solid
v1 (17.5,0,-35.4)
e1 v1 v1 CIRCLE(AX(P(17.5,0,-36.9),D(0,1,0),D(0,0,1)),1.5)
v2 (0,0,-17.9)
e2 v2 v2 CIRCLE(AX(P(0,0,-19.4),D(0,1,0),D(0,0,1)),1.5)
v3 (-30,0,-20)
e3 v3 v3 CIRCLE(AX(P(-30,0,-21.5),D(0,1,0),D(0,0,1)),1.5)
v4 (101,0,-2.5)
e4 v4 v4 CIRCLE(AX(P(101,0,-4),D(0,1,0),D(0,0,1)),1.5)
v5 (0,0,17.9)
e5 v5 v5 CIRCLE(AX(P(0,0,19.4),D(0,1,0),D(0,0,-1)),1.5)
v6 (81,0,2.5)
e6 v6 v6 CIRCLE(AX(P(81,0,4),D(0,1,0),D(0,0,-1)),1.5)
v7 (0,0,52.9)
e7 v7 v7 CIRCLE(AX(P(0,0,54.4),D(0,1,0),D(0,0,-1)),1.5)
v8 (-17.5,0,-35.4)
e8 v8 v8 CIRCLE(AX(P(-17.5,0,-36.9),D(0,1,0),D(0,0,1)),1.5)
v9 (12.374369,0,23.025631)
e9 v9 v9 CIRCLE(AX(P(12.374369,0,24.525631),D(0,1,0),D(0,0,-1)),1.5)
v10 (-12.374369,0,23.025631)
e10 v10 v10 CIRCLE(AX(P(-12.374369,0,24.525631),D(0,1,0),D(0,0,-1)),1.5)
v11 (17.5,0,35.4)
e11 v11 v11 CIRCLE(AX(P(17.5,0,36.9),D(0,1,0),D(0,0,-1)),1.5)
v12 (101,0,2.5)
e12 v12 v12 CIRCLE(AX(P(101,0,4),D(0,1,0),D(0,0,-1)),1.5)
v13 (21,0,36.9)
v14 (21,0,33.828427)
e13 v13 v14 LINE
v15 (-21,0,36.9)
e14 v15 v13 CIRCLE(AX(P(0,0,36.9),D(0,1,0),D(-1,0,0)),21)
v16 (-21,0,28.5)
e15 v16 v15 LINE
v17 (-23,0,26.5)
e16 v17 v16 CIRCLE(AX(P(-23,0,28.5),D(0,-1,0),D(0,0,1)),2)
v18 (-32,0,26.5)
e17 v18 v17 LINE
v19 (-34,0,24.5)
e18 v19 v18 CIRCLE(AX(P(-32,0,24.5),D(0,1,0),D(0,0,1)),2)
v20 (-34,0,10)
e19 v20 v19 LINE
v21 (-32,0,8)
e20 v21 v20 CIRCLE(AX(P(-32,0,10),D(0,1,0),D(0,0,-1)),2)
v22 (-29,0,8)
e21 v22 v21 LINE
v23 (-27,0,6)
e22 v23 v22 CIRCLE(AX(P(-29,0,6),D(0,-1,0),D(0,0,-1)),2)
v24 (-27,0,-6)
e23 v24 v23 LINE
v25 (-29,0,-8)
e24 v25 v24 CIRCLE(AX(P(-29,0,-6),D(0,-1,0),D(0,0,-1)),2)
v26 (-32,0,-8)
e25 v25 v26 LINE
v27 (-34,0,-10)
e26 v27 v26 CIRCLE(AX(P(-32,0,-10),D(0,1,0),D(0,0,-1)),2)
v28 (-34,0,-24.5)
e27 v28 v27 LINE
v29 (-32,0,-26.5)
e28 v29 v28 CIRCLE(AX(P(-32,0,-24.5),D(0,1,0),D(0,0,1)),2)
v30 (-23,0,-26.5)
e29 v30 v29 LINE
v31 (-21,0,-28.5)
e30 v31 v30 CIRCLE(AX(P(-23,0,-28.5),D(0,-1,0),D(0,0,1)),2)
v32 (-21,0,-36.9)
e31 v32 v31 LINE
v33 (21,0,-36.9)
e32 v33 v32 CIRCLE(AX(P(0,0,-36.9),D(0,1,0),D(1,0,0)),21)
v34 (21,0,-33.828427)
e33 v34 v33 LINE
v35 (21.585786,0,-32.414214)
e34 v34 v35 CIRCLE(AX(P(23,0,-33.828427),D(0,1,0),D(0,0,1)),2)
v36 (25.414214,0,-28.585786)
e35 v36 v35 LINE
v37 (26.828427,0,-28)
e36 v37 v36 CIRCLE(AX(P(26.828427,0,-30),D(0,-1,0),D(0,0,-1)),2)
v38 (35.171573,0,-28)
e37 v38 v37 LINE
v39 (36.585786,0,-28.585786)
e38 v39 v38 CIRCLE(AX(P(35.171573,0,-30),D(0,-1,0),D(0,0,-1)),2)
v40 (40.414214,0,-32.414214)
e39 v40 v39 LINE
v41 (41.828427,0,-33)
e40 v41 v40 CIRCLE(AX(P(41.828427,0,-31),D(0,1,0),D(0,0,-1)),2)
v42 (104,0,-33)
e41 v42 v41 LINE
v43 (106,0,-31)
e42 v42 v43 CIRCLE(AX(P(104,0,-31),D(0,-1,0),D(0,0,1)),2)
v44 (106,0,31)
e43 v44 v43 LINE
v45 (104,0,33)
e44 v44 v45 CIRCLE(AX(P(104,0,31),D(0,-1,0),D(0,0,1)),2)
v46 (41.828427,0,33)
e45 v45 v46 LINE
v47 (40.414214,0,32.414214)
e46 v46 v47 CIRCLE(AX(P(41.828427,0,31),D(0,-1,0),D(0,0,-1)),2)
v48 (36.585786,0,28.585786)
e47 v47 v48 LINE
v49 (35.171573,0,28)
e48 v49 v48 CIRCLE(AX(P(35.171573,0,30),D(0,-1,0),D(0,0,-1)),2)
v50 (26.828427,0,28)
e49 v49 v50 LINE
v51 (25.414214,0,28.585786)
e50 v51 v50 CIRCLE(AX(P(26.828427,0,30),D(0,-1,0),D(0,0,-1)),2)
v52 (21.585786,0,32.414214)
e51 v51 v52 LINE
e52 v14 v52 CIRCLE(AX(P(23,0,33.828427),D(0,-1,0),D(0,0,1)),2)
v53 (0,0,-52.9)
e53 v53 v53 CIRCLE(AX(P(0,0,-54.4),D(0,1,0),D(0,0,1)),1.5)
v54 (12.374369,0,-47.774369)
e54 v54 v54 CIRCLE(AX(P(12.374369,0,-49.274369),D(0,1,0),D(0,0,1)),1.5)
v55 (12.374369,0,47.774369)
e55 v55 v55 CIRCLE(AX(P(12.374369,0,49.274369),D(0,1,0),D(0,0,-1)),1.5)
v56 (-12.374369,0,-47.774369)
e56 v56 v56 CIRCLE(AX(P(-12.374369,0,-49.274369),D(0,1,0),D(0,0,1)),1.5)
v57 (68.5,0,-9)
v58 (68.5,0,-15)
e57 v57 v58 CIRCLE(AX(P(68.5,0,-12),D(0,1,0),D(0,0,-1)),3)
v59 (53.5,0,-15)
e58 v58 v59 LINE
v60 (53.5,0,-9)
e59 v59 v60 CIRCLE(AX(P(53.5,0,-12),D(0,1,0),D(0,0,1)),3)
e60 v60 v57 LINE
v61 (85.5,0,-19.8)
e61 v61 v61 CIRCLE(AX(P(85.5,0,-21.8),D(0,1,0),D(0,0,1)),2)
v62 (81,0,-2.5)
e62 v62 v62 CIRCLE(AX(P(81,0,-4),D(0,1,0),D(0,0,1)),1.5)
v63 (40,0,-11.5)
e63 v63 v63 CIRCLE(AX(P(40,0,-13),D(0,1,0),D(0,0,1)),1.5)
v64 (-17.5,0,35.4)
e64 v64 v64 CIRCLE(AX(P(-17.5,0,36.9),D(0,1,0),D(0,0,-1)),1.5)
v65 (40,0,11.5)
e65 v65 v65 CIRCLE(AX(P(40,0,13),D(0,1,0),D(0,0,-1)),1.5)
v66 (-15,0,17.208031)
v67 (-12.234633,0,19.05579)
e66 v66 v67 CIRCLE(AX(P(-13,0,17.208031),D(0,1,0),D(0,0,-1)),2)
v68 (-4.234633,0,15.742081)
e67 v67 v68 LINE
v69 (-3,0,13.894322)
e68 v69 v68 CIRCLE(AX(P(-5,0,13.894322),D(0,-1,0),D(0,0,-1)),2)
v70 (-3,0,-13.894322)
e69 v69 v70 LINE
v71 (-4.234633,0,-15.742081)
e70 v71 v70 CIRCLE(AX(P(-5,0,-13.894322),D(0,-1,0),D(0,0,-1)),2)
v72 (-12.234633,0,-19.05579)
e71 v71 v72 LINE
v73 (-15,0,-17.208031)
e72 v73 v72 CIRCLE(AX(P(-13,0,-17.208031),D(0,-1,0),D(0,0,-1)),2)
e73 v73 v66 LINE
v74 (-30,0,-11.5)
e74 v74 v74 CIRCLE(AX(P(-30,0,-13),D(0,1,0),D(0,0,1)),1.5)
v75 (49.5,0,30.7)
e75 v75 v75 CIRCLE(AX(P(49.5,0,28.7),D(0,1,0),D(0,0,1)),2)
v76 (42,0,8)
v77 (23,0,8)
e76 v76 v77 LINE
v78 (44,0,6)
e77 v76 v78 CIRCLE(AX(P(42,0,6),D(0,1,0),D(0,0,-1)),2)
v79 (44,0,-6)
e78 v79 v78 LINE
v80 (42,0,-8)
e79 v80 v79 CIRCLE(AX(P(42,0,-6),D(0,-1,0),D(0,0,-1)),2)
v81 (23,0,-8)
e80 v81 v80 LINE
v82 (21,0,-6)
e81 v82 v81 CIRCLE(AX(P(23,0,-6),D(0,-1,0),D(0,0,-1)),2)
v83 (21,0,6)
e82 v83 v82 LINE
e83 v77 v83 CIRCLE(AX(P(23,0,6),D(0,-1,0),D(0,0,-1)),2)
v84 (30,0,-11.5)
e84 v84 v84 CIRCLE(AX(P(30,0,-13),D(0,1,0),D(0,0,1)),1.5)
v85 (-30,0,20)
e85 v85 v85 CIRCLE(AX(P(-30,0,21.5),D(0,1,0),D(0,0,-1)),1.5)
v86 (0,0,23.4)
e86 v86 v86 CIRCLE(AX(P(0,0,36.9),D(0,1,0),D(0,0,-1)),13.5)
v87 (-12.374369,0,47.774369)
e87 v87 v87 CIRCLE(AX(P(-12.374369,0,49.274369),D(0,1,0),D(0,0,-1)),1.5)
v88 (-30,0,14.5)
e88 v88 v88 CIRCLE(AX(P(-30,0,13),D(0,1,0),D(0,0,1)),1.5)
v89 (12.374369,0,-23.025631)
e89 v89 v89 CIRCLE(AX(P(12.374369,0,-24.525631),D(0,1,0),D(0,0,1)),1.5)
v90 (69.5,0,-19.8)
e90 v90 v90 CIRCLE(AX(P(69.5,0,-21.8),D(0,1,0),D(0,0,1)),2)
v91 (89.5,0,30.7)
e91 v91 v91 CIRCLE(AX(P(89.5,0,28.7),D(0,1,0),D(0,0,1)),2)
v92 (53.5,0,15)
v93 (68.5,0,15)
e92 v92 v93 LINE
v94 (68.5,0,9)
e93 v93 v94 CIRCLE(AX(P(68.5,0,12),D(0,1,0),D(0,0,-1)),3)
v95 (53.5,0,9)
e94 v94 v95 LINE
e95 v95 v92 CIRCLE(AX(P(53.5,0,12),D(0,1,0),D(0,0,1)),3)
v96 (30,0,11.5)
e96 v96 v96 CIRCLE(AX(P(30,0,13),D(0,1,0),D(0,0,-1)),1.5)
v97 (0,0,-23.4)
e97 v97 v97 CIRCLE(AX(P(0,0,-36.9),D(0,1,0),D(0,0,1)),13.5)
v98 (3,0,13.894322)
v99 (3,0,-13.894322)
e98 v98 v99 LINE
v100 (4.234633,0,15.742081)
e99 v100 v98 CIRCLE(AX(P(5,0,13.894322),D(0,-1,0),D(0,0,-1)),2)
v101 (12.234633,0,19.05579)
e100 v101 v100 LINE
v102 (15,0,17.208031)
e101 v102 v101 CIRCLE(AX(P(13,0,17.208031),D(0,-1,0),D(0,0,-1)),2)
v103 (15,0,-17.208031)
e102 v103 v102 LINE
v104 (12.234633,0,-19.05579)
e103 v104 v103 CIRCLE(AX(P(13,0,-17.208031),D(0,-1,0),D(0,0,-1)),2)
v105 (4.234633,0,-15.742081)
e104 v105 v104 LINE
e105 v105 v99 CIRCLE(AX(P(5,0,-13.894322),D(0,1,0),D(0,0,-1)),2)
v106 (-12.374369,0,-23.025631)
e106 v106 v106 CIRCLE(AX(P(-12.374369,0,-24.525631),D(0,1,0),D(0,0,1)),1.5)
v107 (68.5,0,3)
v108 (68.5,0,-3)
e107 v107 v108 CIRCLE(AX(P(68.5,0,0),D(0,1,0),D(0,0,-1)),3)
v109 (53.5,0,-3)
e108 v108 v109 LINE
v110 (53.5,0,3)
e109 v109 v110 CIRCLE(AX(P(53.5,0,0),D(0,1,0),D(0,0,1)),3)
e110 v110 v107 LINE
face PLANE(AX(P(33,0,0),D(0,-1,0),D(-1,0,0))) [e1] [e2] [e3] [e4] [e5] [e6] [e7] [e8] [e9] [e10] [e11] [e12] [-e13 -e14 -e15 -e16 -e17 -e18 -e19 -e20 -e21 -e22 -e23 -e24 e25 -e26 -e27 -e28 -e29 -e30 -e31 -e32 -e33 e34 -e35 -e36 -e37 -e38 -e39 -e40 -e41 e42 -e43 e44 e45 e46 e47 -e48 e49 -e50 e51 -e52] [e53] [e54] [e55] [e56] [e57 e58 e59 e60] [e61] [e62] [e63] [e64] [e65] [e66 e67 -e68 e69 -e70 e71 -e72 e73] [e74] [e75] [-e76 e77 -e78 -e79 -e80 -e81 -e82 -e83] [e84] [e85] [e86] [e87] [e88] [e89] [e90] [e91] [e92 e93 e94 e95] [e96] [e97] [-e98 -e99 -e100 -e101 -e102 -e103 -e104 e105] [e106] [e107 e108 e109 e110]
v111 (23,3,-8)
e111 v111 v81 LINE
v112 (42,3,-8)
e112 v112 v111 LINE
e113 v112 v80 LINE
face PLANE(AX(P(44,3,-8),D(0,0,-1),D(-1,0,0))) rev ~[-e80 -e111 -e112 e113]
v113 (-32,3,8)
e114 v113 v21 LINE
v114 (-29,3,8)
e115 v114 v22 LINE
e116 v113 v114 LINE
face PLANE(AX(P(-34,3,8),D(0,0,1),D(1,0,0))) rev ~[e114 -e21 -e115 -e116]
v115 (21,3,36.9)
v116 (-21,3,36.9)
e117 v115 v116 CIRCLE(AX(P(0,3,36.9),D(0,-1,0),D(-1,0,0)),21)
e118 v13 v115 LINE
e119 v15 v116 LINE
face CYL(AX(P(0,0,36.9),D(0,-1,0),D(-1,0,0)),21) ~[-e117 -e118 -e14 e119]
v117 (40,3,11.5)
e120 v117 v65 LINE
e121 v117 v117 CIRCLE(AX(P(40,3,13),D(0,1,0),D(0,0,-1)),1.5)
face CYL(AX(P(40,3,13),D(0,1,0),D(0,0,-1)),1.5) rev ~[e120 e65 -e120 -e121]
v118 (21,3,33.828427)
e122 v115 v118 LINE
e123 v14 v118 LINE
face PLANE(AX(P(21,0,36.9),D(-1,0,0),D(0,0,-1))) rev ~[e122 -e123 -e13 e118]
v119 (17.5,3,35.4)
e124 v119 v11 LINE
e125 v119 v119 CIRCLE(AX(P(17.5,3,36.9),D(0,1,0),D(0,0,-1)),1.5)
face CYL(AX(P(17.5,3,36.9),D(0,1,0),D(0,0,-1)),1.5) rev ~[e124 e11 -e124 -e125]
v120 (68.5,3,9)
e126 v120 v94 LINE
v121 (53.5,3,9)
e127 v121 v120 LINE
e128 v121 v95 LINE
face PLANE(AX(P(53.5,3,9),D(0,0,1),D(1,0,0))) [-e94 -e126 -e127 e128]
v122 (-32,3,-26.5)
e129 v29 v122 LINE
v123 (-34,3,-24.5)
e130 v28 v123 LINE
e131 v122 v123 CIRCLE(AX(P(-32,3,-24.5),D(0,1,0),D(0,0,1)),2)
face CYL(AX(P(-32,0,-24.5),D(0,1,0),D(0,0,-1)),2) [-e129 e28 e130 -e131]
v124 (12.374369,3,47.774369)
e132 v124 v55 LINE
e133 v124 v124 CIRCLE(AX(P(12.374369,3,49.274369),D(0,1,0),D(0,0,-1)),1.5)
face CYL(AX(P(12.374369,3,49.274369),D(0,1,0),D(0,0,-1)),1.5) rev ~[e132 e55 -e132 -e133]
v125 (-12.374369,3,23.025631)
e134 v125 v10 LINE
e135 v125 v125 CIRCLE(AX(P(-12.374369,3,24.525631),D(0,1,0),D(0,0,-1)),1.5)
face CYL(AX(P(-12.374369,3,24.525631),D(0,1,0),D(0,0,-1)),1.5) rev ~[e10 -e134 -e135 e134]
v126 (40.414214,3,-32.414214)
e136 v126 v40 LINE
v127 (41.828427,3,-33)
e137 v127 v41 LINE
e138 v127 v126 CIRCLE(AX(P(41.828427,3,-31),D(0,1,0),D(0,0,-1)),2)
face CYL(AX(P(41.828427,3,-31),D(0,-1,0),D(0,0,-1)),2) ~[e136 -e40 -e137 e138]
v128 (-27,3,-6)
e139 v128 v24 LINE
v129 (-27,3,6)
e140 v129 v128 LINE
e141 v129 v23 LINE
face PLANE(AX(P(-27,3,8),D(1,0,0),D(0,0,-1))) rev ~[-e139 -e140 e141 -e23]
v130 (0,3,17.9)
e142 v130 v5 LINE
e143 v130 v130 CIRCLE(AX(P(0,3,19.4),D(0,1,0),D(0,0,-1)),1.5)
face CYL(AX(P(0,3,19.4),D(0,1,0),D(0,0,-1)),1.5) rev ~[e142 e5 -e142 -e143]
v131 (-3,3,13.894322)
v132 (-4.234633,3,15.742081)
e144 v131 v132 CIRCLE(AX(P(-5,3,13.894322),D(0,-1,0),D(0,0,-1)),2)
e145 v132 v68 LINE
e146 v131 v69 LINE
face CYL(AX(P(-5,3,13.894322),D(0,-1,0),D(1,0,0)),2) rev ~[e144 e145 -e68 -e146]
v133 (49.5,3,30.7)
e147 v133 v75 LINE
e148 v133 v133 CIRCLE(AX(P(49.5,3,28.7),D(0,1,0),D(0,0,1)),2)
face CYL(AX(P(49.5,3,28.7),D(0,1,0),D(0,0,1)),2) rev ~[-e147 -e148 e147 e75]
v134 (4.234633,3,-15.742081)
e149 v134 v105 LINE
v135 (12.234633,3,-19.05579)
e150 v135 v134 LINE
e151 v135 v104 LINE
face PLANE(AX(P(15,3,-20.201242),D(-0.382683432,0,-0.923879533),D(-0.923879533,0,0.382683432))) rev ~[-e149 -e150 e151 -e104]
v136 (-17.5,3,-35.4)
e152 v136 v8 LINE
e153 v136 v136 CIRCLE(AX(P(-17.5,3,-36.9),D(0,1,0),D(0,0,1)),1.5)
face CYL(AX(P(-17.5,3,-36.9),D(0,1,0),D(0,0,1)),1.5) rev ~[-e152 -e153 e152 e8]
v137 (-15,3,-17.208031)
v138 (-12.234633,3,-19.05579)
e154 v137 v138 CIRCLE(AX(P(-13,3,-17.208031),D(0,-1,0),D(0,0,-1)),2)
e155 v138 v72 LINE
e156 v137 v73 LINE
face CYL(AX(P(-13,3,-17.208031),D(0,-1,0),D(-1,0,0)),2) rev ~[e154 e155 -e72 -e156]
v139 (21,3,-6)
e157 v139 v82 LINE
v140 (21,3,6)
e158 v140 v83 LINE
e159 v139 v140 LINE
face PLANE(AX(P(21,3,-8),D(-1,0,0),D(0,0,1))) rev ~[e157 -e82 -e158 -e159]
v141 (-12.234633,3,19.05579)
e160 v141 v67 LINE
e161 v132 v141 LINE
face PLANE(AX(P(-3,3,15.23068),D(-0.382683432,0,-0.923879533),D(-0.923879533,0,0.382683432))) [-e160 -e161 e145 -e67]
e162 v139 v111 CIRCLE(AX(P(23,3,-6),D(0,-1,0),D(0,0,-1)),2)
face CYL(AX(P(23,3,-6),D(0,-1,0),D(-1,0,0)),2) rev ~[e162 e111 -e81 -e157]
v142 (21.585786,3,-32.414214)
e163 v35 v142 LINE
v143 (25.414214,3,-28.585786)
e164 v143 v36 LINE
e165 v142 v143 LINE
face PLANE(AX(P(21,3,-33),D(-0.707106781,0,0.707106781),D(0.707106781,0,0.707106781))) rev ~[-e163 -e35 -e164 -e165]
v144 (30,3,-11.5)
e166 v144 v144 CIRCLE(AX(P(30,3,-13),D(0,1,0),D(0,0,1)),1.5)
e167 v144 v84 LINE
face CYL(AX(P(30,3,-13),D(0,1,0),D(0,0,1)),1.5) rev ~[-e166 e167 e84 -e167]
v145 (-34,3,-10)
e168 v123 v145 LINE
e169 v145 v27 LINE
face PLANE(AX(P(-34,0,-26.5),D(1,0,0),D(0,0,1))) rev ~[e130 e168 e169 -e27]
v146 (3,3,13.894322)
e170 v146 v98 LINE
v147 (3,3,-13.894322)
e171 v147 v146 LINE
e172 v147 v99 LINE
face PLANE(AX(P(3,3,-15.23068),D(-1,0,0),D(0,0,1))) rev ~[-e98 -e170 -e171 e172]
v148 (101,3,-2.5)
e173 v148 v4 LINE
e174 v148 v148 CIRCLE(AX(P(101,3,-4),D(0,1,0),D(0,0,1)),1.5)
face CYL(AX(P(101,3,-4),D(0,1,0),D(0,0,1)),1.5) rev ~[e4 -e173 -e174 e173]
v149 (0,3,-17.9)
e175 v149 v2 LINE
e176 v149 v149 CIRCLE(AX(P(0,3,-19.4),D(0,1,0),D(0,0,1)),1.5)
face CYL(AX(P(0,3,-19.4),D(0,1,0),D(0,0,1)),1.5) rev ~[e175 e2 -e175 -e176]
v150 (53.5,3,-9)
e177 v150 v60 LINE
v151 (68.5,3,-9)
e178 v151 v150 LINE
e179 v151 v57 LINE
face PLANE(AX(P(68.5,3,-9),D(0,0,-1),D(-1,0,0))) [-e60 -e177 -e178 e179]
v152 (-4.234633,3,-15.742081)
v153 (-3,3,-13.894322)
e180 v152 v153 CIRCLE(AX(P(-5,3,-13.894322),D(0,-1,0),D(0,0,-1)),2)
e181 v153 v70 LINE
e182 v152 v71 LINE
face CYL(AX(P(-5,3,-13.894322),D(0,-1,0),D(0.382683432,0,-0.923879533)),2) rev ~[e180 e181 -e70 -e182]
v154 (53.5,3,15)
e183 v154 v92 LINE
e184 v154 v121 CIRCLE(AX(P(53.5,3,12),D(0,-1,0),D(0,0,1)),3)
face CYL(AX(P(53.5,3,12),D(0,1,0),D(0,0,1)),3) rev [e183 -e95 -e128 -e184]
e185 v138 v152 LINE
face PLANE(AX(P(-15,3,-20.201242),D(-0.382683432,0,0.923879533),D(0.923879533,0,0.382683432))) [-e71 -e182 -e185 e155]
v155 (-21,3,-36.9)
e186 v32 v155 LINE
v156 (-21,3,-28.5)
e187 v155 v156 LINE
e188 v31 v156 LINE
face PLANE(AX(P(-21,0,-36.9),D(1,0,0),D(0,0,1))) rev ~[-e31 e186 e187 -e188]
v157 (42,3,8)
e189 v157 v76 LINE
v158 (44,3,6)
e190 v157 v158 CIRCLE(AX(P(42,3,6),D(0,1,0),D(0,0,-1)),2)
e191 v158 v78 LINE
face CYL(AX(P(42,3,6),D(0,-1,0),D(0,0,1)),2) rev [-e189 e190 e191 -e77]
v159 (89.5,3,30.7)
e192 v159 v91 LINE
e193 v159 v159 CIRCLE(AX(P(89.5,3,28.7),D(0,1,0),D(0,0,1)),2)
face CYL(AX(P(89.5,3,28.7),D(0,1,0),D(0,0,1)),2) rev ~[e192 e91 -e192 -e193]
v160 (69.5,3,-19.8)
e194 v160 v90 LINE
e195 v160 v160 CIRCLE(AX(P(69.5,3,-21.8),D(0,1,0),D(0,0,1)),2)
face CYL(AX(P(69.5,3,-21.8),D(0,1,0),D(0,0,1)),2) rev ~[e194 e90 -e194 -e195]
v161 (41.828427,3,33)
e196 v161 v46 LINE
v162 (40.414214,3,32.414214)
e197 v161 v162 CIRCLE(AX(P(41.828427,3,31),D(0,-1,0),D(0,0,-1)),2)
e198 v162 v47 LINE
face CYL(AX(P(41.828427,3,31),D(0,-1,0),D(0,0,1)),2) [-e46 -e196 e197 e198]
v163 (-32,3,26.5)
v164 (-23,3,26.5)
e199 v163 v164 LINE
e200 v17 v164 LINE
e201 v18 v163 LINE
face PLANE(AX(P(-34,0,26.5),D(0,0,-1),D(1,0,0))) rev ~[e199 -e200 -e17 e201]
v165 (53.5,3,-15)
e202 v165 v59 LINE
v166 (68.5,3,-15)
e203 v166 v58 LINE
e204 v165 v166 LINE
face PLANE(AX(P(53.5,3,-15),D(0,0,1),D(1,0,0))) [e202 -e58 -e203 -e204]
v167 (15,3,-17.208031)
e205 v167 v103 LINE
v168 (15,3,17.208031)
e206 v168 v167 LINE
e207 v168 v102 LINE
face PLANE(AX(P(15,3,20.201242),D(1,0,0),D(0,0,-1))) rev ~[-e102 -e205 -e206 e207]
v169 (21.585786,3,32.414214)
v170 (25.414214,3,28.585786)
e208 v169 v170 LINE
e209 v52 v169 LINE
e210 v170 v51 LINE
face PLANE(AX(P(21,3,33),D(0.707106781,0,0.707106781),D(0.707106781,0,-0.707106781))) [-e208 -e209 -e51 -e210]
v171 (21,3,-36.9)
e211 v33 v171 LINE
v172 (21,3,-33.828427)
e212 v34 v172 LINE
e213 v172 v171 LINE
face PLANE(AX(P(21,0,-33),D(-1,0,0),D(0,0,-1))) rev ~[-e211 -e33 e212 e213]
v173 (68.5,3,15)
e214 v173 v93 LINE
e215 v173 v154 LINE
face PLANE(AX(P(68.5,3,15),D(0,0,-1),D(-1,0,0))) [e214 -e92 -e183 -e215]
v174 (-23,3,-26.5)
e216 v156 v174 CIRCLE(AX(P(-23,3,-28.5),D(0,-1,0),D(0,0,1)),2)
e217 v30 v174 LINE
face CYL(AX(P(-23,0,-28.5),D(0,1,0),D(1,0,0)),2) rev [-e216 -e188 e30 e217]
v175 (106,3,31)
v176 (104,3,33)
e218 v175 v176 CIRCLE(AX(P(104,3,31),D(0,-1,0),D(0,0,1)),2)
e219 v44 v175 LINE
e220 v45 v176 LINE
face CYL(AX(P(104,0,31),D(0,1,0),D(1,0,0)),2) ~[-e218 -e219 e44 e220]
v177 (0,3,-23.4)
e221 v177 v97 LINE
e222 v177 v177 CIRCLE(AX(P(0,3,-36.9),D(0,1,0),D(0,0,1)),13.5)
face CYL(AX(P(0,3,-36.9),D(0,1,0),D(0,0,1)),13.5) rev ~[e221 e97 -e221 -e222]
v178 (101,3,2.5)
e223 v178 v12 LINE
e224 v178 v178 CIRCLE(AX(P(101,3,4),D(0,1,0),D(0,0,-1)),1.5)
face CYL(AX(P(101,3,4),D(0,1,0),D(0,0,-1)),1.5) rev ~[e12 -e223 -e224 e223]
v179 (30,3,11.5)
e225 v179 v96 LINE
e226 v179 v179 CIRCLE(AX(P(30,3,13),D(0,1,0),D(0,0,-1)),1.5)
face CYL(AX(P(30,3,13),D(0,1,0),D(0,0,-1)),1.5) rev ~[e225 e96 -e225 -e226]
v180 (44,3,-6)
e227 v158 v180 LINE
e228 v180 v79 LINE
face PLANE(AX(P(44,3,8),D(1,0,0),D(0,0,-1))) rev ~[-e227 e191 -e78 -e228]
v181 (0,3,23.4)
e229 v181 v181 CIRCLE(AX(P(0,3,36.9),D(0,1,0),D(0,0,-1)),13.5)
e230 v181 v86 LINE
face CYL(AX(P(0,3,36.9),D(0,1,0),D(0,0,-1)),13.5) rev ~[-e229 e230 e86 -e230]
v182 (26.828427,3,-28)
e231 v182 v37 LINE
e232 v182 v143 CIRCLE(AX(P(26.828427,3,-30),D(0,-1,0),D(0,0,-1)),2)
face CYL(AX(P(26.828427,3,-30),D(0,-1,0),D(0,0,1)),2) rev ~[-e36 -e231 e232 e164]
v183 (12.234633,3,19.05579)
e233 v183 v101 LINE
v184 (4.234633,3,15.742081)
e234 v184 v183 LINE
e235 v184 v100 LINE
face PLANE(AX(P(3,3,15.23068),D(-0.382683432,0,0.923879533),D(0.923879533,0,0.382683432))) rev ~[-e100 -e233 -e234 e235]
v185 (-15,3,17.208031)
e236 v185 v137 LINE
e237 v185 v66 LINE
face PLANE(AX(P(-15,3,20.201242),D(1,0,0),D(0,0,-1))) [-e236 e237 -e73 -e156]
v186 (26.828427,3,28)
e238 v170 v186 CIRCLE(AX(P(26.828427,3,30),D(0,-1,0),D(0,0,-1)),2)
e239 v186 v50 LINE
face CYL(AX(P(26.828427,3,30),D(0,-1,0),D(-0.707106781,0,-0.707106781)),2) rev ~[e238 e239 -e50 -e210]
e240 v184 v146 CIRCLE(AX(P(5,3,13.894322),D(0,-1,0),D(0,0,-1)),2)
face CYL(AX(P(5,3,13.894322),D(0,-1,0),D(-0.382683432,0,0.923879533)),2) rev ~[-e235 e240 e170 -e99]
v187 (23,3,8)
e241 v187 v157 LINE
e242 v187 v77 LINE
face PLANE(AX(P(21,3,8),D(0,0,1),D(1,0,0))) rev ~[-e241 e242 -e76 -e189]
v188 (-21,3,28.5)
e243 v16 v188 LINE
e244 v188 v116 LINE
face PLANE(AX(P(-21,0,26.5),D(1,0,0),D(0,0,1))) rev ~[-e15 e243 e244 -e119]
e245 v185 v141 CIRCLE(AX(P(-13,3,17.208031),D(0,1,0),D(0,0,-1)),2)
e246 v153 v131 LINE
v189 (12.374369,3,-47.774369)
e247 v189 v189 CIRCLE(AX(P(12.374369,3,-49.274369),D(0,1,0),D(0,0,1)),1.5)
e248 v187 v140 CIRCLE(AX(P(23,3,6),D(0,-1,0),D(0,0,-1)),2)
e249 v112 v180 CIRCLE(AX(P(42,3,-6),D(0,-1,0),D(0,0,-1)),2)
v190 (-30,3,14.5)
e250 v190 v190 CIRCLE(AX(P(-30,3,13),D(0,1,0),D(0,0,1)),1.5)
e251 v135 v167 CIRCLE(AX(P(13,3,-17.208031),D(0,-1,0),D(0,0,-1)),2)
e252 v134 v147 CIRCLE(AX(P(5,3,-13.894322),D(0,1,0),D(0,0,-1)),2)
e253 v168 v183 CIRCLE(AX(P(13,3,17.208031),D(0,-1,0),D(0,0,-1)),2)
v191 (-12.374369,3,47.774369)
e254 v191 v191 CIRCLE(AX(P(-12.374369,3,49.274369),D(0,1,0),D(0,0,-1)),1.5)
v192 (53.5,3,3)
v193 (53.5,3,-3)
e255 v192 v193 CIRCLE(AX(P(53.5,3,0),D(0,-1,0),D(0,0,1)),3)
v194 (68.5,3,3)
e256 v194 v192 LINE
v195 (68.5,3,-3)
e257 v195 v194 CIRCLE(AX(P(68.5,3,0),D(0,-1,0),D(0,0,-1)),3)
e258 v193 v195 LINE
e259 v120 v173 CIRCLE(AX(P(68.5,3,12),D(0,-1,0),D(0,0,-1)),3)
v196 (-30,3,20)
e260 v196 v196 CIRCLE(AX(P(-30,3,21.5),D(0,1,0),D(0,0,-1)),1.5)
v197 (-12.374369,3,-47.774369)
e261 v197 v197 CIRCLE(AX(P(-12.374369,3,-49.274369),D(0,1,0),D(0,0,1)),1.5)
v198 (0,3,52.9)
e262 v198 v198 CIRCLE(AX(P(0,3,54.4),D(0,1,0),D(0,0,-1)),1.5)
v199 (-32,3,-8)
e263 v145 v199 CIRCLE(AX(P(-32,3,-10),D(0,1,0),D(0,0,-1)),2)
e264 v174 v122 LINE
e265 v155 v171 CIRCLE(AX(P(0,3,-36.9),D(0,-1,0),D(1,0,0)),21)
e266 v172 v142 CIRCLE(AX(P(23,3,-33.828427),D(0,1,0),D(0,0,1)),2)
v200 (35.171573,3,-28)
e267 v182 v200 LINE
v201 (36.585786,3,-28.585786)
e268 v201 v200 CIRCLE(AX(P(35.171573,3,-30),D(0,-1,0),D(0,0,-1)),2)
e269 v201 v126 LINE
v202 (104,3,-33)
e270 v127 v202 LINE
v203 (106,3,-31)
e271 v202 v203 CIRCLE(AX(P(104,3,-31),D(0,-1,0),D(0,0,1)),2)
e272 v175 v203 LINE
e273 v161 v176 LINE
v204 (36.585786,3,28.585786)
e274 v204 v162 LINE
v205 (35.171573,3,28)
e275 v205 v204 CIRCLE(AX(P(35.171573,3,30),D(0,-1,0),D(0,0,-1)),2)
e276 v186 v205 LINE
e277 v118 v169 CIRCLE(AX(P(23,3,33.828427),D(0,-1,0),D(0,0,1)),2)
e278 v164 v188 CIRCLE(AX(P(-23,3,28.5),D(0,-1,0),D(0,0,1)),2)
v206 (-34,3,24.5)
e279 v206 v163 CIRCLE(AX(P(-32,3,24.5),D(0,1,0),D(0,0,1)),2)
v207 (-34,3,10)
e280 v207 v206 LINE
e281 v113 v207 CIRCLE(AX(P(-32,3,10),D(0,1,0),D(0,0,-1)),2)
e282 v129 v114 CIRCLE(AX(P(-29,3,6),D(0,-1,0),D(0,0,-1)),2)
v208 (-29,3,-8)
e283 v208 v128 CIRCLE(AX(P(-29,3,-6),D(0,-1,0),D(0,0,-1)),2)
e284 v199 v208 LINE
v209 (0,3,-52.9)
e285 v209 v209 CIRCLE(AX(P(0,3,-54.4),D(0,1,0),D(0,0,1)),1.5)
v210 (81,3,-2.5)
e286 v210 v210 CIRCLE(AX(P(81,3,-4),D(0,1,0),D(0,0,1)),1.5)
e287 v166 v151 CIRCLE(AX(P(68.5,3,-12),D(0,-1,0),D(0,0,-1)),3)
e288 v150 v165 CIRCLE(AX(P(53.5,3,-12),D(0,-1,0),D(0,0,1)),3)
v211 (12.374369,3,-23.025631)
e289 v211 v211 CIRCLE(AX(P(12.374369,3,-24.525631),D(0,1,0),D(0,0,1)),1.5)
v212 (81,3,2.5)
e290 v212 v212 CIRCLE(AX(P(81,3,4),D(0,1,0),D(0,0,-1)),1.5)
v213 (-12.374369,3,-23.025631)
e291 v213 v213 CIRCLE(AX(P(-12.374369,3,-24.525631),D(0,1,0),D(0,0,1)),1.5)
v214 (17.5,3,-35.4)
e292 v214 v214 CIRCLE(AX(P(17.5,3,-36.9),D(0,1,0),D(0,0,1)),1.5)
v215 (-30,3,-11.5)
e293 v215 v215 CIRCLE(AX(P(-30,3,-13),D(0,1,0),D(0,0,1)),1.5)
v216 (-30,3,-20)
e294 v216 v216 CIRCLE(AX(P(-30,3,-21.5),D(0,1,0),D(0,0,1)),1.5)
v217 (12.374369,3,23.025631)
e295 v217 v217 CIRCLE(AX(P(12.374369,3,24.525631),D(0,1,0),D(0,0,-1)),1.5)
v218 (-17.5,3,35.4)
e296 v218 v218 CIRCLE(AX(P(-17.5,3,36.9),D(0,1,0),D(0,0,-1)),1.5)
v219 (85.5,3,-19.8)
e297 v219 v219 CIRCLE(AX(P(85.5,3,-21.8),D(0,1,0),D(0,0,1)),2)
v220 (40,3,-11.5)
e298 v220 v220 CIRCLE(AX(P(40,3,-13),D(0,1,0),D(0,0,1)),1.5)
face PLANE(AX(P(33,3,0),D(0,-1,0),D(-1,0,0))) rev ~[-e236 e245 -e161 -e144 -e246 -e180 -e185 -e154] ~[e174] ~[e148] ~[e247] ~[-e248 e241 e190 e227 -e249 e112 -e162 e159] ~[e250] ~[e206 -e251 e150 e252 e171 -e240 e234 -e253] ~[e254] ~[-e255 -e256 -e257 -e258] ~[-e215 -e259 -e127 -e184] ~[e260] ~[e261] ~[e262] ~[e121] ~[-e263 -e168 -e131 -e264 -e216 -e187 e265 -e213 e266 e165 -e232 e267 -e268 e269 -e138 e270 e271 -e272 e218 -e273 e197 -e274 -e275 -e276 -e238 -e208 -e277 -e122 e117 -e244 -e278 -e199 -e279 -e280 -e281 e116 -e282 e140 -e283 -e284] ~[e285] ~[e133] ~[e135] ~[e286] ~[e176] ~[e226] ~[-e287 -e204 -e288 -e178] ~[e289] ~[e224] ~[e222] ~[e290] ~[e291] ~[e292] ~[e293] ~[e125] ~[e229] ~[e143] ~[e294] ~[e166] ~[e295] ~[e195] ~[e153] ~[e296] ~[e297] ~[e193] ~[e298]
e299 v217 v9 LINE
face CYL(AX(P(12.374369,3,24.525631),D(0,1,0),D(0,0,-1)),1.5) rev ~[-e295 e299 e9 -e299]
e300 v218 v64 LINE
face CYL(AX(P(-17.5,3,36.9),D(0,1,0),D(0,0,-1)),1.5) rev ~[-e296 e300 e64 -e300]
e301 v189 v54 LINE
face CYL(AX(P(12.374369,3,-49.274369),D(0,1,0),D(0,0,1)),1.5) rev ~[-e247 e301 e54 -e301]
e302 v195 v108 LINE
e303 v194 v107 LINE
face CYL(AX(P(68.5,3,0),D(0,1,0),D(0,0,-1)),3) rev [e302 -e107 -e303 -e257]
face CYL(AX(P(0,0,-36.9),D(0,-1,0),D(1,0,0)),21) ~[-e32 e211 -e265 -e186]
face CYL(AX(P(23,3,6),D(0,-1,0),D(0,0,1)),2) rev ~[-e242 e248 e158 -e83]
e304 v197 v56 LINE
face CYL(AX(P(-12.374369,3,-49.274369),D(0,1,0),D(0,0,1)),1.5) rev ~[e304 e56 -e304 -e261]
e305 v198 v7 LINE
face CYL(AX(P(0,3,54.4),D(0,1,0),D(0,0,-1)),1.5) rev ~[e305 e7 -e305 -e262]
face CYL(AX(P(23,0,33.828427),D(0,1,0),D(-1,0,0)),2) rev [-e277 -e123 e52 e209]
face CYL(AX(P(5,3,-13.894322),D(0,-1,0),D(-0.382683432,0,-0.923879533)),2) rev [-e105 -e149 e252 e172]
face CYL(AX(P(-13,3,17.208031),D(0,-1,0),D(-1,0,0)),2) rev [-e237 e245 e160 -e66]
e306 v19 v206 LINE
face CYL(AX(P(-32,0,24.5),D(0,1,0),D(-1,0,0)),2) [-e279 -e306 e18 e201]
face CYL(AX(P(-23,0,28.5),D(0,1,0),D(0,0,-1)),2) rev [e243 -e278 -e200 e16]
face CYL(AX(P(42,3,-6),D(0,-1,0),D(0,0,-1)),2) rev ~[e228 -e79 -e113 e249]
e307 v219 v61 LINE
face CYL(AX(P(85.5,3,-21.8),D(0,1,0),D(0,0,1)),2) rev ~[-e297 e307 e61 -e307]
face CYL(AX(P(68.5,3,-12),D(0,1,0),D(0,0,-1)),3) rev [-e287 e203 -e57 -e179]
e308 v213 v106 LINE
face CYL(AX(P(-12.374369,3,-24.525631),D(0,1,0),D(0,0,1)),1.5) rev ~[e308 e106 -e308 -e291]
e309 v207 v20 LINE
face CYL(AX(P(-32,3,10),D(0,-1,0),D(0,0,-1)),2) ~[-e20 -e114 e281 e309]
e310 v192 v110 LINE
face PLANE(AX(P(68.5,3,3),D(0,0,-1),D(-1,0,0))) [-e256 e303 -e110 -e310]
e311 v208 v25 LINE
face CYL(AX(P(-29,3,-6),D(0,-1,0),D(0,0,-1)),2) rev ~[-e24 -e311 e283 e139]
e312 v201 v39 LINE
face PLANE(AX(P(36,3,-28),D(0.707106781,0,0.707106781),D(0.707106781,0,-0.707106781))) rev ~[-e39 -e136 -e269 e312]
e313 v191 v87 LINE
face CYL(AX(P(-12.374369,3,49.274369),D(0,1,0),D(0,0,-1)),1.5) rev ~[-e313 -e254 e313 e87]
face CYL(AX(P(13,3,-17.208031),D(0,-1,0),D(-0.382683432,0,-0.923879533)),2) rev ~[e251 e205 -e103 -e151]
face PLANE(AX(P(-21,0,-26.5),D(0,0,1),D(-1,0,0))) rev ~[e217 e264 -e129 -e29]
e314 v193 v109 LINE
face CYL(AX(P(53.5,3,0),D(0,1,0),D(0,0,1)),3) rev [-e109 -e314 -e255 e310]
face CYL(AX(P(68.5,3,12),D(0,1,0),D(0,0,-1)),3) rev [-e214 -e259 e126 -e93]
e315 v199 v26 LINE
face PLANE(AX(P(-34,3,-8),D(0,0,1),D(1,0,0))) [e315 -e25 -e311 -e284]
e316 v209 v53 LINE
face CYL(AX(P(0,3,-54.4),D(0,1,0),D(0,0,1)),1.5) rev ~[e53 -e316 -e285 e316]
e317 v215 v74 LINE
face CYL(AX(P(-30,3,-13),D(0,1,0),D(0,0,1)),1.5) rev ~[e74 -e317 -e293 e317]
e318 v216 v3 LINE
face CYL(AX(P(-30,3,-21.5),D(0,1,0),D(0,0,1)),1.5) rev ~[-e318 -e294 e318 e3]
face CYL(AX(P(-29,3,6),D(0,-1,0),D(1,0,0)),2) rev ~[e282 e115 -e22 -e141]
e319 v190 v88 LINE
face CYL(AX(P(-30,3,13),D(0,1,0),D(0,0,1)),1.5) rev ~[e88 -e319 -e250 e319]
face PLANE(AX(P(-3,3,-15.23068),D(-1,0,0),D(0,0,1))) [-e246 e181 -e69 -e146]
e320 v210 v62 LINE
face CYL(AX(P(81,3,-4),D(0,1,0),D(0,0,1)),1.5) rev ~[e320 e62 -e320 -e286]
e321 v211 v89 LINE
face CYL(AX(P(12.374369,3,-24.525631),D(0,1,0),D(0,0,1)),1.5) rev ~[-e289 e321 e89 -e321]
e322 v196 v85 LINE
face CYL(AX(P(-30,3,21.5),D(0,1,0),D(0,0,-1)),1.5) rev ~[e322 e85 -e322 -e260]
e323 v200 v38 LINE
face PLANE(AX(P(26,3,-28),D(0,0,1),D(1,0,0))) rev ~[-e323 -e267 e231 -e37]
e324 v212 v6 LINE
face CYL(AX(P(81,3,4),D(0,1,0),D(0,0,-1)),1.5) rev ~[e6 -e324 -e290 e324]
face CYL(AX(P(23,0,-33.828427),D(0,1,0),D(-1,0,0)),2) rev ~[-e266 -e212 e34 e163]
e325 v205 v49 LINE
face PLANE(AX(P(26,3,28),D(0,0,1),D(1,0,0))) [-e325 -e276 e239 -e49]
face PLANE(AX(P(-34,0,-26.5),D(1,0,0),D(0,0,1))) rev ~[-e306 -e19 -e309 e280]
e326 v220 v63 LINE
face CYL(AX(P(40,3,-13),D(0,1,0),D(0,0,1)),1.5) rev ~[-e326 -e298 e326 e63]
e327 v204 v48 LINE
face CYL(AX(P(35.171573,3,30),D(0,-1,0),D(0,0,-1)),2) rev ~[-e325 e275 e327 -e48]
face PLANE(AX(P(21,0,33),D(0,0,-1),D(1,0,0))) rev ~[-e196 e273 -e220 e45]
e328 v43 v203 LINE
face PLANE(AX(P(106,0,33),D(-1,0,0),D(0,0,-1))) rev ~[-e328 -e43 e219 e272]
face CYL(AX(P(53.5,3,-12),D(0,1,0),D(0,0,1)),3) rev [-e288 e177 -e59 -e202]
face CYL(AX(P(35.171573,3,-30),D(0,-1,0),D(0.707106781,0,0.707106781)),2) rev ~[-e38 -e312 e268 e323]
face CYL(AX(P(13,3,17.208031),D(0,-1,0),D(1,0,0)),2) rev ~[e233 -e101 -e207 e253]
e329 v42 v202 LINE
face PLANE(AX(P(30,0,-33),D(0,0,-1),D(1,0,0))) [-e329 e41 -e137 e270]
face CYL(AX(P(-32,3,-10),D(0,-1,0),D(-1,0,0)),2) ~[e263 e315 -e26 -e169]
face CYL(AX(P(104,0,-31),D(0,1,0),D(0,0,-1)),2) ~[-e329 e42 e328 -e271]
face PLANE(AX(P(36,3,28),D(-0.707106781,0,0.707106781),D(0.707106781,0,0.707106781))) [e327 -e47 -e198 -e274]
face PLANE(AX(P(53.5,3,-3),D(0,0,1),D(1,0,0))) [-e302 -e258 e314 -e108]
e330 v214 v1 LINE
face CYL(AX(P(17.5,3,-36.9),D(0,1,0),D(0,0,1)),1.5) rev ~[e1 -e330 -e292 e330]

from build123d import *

# Parameters (mm, degrees)
EXTRUDE_1_DEPTH        = 3
SKETCH_2_R             = 1.5
SKETCH_2_R_2           = 13.5
CUT_EXTRUDE_1333_DEPTH = 144.209636547
SKETCH_3_OUTSIDE_W     = 225.27
SKETCH_3_OUTSIDE_H     = 165.27
CUT_EXTRUDE_1_DEPTH    = 144.209636547
SKETCH_5_R             = 1.5
SKETCH_5_R_2           = 2
CUT_EXTRUDE_3_DEPTH    = 121.819741764
SKETCH_4_W             = 7
SKETCH_4_H             = 16
CUT_EXTRUDE_2_DEPTH    = 121.819741764
FILLET_1_R             = 2


with BuildPart() as part:
    # 草图1 → 凸台-拉伸1 (new body)
    with BuildSketch(Plane(origin=(0, 0, 0), x_dir=(1, 0, 0), z_dir=(0, 1, 0))):
        Polygon((-30, 60), (30, 60), (30, 33), (130, 33), (130, -33), (30, -33), (30, -60), (-30, -60), (-30, -30), (-50, -30), (-50, 30), (-30, 30), align=None)
    extrude(amount=EXTRUDE_1_DEPTH)

    # 草图2 → Cut-Extrude 1333 (cut, through all)
    with BuildSketch(Plane(origin=(0, 3, 0), x_dir=(1, 0, 0), z_dir=(0, 1, 0))):
        with Locations(Location((-30, 13, 0), (0, 0, 270))):
            Circle(SKETCH_2_R)
        with Locations(Location((-30, -13, 0), (0, 0, 270))):
            Circle(SKETCH_2_R)
        with Locations(Location((17.5, 36.9, 0), (0, 0, 270))):
            Circle(SKETCH_2_R)
        with Locations(Location((12.374368671, 24.525631329, 0), (0, 0, 270))):
            Circle(SKETCH_2_R)
        with Locations(Location((0, 19.4, 0), (0, 0, 270))):
            Circle(SKETCH_2_R)
        with Locations(Location((-12.374368671, 24.525631329, 0), (0, 0, 270))):
            Circle(SKETCH_2_R)
        with Locations(Location((-17.5, 36.9, 0), (0, 0, 270))):
            Circle(SKETCH_2_R)
        with Locations(Location((-12.374368671, 49.274368671, 0), (0, 0, 270))):
            Circle(SKETCH_2_R)
        with Locations(Location((0, 54.4, 0), (0, 0, 270))):
            Circle(SKETCH_2_R)
        with Locations(Location((12.374368671, 49.274368671, 0), (0, 0, 270))):
            Circle(SKETCH_2_R)
        with Locations(Location((12.374368671, -49.274368671, 0), (0, 0, 90))):
            Circle(SKETCH_2_R)
        with Locations(Location((0, -54.4, 0), (0, 0, 90))):
            Circle(SKETCH_2_R)
        with Locations(Location((-12.374368671, -49.274368671, 0), (0, 0, 90))):
            Circle(SKETCH_2_R)
        with Locations(Location((-17.5, -36.9, 0), (0, 0, 90))):
            Circle(SKETCH_2_R)
        with Locations(Location((-12.374368671, -24.525631329, 0), (0, 0, 90))):
            Circle(SKETCH_2_R)
        with Locations(Location((0, -19.4, 0), (0, 0, 90))):
            Circle(SKETCH_2_R)
        with Locations(Location((12.374368671, -24.525631329, 0), (0, 0, 90))):
            Circle(SKETCH_2_R)
        with Locations(Location((17.5, -36.9, 0), (0, 0, 90))):
            Circle(SKETCH_2_R)
        with Locations(Location((30, 13, 0), (0, 0, 270))):
            Circle(SKETCH_2_R)
        with Locations(Location((40, 13, 0), (0, 0, 270))):
            Circle(SKETCH_2_R)
        with Locations(Location((0, 36.9, 0), (0, 0, 270))):
            Circle(SKETCH_2_R_2)
        with Locations(Location((0, -36.9, 0), (0, 0, 90))):
            Circle(SKETCH_2_R_2)
        with Locations(Location((40, -13, 0), (0, 0, 90))):
            Circle(SKETCH_2_R)
        with Locations(Location((30, -13, 0), (0, 0, 90))):
            Circle(SKETCH_2_R)
        with Locations(Location((-30, 21.5, 0), (0, 0, 270))):
            Circle(SKETCH_2_R)
        with Locations(Location((-30, -21.5, 0), (0, 0, 90))):
            Circle(SKETCH_2_R)
    extrude(amount=-CUT_EXTRUDE_1333_DEPTH, mode=Mode.SUBTRACT)

    # 草图3 outside → 切除-拉伸1 (cut, through all)
    with BuildSketch(Plane(origin=(0, 0, 0), x_dir=(1, 0, 0), z_dir=(0, 1, 0))):
        with Locations((40, 0)):
            Rectangle(SKETCH_3_OUTSIDE_W, SKETCH_3_OUTSIDE_H)
        with BuildLine():
            Line((-21, 36.9), (-21, 26.5))
            Line((-21, 26.5), (-34, 26.5))
            Line((-34, 26.5), (-34, -26.5))
            Line((-34, -26.5), (-21, -26.5))
            Line((-21, -26.5), (-21, -36.9))
            ThreePointArc((-21, -36.9), (0, -57.9), (21, -36.9))
            Line((21, -36.9), (21, -33))
            Line((21, -33), (106, -33))
            Line((106, -33), (106, 33))
            Line((106, 33), (21, 33))
            Line((21, 33), (21, 36.9))
            ThreePointArc((21, 36.9), (0, 57.9), (-21, 36.9))
        make_face(mode=Mode.SUBTRACT)
    extrude(amount=CUT_EXTRUDE_1_DEPTH, mode=Mode.SUBTRACT)

    # 草图5 → 切除-拉伸3 (cut, through all)
    with BuildSketch(Plane(origin=(0, 3, 0), x_dir=(1, 0, 0), z_dir=(0, 1, 0))):
        with Locations(Location((81, 4, 0), (0, 0, 270))):
            Circle(SKETCH_5_R)
        with Locations(Location((101, 4, 0), (0, 0, 270))):
            Circle(SKETCH_5_R)
        with Locations(Location((101, -4, 0), (0, 0, 90))):
            Circle(SKETCH_5_R)
        with Locations(Location((81, -4, 0), (0, 0, 90))):
            Circle(SKETCH_5_R)
        with Locations(Location((69.5, 21.8, 0), (0, 0, 270))):
            Circle(SKETCH_5_R_2)
        with Locations(Location((85.5, 21.8, 0), (0, 0, 270))):
            Circle(SKETCH_5_R_2)
        with Locations(Location((49.5, -28.7, 0), (0, 0, 270))):
            Circle(SKETCH_5_R_2)
        with Locations(Location((89.5, -28.7, 0), (0, 0, 270))):
            Circle(SKETCH_5_R_2)
    extrude(amount=-CUT_EXTRUDE_3_DEPTH, mode=Mode.SUBTRACT)

    # 草图4 → 切除-拉伸2 (cut, through all)
    with BuildSketch(Plane(origin=(0, 3, 0), x_dir=(1, 0, 0), z_dir=(0, 1, 0))):
        Polygon((-15, -20.201242434), (-15, 20.201242434), (-3, 15.230679686), (-3, -15.230679686), align=None)
        with Locations((-30.5, 0)):
            Rectangle(SKETCH_4_W, SKETCH_4_H)
        Polygon((3, 15.230679686), (3, -15.230679686), (15, -20.201242434), (15, 20.201242434), align=None)
        Polygon((21, 33), (26, 28), (36, 28), (41, 33), align=None)
        Polygon((26, -8), (44, -8), (44, 8), (26, 8), (21, 8), (21, -8), align=None)
        Polygon((36, -28), (41, -33), (21, -33), (26, -28), align=None)
        with BuildLine():
            Line((53.5, 15), (68.5, 15))
            ThreePointArc((68.5, 15), (71.5, 12), (68.5, 9))
            Line((68.5, 9), (53.5, 9))
            ThreePointArc((53.5, 9), (50.5, 12), (53.5, 15))
        make_face()
        with BuildLine():
            Line((53.5, 3), (68.5, 3))
            ThreePointArc((68.5, 3), (71.5, 0), (68.5, -3))
            Line((68.5, -3), (53.5, -3))
            ThreePointArc((53.5, -3), (50.5, 0), (53.5, 3))
        make_face()
        with BuildLine():
            Line((53.5, -9), (68.5, -9))
            ThreePointArc((68.5, -9), (71.5, -12), (68.5, -15))
            Line((68.5, -15), (53.5, -15))
            ThreePointArc((53.5, -15), (50.5, -12), (53.5, -9))
        make_face()
    extrude(amount=-CUT_EXTRUDE_2_DEPTH, mode=Mode.SUBTRACT)

    # 圆角1
    fillet_1_edges = [part.edges().sort_by_distance(p)[0] for p in [
        (-21, 1.5, -26.5),
        (-34, 1.5, -26.5),
        (-34, 1.5, 26.5),
        (-21, 1.5, 26.5),
        (21, 1.5, 33),
        (106, 1.5, 33),
        (106, 1.5, -33),
        (21, 1.5, -33),
        (41, 1.5, -33),
        (36, 1.5, -28),
        (26, 1.5, -28),
        (26, 1.5, 28),
        (36, 1.5, 28),
        (41, 1.5, 33),
        (44, 1.5, -8),
        (44, 1.5, 8),
        (21, 1.5, 8),
        (21, 1.5, -8),
        (3, 1.5, -15.230679686),
        (15, 1.5, -20.201242434),
        (15, 1.5, 20.201242434),
        (3, 1.5, 15.230679686),
        (-27, 1.5, -8),
        (-27, 1.5, 8),
        (-34, 1.5, 8),
        (-34, 1.5, -8),
        (-15, 1.5, -20.201242434),
        (-3, 1.5, -15.230679686),
        (-3, 1.5, 15.230679686),
        (-15, 1.5, 20.201242434),
    ]]
    fillet(fillet_1_edges, radius=FILLET_1_R)


solid = part.part
